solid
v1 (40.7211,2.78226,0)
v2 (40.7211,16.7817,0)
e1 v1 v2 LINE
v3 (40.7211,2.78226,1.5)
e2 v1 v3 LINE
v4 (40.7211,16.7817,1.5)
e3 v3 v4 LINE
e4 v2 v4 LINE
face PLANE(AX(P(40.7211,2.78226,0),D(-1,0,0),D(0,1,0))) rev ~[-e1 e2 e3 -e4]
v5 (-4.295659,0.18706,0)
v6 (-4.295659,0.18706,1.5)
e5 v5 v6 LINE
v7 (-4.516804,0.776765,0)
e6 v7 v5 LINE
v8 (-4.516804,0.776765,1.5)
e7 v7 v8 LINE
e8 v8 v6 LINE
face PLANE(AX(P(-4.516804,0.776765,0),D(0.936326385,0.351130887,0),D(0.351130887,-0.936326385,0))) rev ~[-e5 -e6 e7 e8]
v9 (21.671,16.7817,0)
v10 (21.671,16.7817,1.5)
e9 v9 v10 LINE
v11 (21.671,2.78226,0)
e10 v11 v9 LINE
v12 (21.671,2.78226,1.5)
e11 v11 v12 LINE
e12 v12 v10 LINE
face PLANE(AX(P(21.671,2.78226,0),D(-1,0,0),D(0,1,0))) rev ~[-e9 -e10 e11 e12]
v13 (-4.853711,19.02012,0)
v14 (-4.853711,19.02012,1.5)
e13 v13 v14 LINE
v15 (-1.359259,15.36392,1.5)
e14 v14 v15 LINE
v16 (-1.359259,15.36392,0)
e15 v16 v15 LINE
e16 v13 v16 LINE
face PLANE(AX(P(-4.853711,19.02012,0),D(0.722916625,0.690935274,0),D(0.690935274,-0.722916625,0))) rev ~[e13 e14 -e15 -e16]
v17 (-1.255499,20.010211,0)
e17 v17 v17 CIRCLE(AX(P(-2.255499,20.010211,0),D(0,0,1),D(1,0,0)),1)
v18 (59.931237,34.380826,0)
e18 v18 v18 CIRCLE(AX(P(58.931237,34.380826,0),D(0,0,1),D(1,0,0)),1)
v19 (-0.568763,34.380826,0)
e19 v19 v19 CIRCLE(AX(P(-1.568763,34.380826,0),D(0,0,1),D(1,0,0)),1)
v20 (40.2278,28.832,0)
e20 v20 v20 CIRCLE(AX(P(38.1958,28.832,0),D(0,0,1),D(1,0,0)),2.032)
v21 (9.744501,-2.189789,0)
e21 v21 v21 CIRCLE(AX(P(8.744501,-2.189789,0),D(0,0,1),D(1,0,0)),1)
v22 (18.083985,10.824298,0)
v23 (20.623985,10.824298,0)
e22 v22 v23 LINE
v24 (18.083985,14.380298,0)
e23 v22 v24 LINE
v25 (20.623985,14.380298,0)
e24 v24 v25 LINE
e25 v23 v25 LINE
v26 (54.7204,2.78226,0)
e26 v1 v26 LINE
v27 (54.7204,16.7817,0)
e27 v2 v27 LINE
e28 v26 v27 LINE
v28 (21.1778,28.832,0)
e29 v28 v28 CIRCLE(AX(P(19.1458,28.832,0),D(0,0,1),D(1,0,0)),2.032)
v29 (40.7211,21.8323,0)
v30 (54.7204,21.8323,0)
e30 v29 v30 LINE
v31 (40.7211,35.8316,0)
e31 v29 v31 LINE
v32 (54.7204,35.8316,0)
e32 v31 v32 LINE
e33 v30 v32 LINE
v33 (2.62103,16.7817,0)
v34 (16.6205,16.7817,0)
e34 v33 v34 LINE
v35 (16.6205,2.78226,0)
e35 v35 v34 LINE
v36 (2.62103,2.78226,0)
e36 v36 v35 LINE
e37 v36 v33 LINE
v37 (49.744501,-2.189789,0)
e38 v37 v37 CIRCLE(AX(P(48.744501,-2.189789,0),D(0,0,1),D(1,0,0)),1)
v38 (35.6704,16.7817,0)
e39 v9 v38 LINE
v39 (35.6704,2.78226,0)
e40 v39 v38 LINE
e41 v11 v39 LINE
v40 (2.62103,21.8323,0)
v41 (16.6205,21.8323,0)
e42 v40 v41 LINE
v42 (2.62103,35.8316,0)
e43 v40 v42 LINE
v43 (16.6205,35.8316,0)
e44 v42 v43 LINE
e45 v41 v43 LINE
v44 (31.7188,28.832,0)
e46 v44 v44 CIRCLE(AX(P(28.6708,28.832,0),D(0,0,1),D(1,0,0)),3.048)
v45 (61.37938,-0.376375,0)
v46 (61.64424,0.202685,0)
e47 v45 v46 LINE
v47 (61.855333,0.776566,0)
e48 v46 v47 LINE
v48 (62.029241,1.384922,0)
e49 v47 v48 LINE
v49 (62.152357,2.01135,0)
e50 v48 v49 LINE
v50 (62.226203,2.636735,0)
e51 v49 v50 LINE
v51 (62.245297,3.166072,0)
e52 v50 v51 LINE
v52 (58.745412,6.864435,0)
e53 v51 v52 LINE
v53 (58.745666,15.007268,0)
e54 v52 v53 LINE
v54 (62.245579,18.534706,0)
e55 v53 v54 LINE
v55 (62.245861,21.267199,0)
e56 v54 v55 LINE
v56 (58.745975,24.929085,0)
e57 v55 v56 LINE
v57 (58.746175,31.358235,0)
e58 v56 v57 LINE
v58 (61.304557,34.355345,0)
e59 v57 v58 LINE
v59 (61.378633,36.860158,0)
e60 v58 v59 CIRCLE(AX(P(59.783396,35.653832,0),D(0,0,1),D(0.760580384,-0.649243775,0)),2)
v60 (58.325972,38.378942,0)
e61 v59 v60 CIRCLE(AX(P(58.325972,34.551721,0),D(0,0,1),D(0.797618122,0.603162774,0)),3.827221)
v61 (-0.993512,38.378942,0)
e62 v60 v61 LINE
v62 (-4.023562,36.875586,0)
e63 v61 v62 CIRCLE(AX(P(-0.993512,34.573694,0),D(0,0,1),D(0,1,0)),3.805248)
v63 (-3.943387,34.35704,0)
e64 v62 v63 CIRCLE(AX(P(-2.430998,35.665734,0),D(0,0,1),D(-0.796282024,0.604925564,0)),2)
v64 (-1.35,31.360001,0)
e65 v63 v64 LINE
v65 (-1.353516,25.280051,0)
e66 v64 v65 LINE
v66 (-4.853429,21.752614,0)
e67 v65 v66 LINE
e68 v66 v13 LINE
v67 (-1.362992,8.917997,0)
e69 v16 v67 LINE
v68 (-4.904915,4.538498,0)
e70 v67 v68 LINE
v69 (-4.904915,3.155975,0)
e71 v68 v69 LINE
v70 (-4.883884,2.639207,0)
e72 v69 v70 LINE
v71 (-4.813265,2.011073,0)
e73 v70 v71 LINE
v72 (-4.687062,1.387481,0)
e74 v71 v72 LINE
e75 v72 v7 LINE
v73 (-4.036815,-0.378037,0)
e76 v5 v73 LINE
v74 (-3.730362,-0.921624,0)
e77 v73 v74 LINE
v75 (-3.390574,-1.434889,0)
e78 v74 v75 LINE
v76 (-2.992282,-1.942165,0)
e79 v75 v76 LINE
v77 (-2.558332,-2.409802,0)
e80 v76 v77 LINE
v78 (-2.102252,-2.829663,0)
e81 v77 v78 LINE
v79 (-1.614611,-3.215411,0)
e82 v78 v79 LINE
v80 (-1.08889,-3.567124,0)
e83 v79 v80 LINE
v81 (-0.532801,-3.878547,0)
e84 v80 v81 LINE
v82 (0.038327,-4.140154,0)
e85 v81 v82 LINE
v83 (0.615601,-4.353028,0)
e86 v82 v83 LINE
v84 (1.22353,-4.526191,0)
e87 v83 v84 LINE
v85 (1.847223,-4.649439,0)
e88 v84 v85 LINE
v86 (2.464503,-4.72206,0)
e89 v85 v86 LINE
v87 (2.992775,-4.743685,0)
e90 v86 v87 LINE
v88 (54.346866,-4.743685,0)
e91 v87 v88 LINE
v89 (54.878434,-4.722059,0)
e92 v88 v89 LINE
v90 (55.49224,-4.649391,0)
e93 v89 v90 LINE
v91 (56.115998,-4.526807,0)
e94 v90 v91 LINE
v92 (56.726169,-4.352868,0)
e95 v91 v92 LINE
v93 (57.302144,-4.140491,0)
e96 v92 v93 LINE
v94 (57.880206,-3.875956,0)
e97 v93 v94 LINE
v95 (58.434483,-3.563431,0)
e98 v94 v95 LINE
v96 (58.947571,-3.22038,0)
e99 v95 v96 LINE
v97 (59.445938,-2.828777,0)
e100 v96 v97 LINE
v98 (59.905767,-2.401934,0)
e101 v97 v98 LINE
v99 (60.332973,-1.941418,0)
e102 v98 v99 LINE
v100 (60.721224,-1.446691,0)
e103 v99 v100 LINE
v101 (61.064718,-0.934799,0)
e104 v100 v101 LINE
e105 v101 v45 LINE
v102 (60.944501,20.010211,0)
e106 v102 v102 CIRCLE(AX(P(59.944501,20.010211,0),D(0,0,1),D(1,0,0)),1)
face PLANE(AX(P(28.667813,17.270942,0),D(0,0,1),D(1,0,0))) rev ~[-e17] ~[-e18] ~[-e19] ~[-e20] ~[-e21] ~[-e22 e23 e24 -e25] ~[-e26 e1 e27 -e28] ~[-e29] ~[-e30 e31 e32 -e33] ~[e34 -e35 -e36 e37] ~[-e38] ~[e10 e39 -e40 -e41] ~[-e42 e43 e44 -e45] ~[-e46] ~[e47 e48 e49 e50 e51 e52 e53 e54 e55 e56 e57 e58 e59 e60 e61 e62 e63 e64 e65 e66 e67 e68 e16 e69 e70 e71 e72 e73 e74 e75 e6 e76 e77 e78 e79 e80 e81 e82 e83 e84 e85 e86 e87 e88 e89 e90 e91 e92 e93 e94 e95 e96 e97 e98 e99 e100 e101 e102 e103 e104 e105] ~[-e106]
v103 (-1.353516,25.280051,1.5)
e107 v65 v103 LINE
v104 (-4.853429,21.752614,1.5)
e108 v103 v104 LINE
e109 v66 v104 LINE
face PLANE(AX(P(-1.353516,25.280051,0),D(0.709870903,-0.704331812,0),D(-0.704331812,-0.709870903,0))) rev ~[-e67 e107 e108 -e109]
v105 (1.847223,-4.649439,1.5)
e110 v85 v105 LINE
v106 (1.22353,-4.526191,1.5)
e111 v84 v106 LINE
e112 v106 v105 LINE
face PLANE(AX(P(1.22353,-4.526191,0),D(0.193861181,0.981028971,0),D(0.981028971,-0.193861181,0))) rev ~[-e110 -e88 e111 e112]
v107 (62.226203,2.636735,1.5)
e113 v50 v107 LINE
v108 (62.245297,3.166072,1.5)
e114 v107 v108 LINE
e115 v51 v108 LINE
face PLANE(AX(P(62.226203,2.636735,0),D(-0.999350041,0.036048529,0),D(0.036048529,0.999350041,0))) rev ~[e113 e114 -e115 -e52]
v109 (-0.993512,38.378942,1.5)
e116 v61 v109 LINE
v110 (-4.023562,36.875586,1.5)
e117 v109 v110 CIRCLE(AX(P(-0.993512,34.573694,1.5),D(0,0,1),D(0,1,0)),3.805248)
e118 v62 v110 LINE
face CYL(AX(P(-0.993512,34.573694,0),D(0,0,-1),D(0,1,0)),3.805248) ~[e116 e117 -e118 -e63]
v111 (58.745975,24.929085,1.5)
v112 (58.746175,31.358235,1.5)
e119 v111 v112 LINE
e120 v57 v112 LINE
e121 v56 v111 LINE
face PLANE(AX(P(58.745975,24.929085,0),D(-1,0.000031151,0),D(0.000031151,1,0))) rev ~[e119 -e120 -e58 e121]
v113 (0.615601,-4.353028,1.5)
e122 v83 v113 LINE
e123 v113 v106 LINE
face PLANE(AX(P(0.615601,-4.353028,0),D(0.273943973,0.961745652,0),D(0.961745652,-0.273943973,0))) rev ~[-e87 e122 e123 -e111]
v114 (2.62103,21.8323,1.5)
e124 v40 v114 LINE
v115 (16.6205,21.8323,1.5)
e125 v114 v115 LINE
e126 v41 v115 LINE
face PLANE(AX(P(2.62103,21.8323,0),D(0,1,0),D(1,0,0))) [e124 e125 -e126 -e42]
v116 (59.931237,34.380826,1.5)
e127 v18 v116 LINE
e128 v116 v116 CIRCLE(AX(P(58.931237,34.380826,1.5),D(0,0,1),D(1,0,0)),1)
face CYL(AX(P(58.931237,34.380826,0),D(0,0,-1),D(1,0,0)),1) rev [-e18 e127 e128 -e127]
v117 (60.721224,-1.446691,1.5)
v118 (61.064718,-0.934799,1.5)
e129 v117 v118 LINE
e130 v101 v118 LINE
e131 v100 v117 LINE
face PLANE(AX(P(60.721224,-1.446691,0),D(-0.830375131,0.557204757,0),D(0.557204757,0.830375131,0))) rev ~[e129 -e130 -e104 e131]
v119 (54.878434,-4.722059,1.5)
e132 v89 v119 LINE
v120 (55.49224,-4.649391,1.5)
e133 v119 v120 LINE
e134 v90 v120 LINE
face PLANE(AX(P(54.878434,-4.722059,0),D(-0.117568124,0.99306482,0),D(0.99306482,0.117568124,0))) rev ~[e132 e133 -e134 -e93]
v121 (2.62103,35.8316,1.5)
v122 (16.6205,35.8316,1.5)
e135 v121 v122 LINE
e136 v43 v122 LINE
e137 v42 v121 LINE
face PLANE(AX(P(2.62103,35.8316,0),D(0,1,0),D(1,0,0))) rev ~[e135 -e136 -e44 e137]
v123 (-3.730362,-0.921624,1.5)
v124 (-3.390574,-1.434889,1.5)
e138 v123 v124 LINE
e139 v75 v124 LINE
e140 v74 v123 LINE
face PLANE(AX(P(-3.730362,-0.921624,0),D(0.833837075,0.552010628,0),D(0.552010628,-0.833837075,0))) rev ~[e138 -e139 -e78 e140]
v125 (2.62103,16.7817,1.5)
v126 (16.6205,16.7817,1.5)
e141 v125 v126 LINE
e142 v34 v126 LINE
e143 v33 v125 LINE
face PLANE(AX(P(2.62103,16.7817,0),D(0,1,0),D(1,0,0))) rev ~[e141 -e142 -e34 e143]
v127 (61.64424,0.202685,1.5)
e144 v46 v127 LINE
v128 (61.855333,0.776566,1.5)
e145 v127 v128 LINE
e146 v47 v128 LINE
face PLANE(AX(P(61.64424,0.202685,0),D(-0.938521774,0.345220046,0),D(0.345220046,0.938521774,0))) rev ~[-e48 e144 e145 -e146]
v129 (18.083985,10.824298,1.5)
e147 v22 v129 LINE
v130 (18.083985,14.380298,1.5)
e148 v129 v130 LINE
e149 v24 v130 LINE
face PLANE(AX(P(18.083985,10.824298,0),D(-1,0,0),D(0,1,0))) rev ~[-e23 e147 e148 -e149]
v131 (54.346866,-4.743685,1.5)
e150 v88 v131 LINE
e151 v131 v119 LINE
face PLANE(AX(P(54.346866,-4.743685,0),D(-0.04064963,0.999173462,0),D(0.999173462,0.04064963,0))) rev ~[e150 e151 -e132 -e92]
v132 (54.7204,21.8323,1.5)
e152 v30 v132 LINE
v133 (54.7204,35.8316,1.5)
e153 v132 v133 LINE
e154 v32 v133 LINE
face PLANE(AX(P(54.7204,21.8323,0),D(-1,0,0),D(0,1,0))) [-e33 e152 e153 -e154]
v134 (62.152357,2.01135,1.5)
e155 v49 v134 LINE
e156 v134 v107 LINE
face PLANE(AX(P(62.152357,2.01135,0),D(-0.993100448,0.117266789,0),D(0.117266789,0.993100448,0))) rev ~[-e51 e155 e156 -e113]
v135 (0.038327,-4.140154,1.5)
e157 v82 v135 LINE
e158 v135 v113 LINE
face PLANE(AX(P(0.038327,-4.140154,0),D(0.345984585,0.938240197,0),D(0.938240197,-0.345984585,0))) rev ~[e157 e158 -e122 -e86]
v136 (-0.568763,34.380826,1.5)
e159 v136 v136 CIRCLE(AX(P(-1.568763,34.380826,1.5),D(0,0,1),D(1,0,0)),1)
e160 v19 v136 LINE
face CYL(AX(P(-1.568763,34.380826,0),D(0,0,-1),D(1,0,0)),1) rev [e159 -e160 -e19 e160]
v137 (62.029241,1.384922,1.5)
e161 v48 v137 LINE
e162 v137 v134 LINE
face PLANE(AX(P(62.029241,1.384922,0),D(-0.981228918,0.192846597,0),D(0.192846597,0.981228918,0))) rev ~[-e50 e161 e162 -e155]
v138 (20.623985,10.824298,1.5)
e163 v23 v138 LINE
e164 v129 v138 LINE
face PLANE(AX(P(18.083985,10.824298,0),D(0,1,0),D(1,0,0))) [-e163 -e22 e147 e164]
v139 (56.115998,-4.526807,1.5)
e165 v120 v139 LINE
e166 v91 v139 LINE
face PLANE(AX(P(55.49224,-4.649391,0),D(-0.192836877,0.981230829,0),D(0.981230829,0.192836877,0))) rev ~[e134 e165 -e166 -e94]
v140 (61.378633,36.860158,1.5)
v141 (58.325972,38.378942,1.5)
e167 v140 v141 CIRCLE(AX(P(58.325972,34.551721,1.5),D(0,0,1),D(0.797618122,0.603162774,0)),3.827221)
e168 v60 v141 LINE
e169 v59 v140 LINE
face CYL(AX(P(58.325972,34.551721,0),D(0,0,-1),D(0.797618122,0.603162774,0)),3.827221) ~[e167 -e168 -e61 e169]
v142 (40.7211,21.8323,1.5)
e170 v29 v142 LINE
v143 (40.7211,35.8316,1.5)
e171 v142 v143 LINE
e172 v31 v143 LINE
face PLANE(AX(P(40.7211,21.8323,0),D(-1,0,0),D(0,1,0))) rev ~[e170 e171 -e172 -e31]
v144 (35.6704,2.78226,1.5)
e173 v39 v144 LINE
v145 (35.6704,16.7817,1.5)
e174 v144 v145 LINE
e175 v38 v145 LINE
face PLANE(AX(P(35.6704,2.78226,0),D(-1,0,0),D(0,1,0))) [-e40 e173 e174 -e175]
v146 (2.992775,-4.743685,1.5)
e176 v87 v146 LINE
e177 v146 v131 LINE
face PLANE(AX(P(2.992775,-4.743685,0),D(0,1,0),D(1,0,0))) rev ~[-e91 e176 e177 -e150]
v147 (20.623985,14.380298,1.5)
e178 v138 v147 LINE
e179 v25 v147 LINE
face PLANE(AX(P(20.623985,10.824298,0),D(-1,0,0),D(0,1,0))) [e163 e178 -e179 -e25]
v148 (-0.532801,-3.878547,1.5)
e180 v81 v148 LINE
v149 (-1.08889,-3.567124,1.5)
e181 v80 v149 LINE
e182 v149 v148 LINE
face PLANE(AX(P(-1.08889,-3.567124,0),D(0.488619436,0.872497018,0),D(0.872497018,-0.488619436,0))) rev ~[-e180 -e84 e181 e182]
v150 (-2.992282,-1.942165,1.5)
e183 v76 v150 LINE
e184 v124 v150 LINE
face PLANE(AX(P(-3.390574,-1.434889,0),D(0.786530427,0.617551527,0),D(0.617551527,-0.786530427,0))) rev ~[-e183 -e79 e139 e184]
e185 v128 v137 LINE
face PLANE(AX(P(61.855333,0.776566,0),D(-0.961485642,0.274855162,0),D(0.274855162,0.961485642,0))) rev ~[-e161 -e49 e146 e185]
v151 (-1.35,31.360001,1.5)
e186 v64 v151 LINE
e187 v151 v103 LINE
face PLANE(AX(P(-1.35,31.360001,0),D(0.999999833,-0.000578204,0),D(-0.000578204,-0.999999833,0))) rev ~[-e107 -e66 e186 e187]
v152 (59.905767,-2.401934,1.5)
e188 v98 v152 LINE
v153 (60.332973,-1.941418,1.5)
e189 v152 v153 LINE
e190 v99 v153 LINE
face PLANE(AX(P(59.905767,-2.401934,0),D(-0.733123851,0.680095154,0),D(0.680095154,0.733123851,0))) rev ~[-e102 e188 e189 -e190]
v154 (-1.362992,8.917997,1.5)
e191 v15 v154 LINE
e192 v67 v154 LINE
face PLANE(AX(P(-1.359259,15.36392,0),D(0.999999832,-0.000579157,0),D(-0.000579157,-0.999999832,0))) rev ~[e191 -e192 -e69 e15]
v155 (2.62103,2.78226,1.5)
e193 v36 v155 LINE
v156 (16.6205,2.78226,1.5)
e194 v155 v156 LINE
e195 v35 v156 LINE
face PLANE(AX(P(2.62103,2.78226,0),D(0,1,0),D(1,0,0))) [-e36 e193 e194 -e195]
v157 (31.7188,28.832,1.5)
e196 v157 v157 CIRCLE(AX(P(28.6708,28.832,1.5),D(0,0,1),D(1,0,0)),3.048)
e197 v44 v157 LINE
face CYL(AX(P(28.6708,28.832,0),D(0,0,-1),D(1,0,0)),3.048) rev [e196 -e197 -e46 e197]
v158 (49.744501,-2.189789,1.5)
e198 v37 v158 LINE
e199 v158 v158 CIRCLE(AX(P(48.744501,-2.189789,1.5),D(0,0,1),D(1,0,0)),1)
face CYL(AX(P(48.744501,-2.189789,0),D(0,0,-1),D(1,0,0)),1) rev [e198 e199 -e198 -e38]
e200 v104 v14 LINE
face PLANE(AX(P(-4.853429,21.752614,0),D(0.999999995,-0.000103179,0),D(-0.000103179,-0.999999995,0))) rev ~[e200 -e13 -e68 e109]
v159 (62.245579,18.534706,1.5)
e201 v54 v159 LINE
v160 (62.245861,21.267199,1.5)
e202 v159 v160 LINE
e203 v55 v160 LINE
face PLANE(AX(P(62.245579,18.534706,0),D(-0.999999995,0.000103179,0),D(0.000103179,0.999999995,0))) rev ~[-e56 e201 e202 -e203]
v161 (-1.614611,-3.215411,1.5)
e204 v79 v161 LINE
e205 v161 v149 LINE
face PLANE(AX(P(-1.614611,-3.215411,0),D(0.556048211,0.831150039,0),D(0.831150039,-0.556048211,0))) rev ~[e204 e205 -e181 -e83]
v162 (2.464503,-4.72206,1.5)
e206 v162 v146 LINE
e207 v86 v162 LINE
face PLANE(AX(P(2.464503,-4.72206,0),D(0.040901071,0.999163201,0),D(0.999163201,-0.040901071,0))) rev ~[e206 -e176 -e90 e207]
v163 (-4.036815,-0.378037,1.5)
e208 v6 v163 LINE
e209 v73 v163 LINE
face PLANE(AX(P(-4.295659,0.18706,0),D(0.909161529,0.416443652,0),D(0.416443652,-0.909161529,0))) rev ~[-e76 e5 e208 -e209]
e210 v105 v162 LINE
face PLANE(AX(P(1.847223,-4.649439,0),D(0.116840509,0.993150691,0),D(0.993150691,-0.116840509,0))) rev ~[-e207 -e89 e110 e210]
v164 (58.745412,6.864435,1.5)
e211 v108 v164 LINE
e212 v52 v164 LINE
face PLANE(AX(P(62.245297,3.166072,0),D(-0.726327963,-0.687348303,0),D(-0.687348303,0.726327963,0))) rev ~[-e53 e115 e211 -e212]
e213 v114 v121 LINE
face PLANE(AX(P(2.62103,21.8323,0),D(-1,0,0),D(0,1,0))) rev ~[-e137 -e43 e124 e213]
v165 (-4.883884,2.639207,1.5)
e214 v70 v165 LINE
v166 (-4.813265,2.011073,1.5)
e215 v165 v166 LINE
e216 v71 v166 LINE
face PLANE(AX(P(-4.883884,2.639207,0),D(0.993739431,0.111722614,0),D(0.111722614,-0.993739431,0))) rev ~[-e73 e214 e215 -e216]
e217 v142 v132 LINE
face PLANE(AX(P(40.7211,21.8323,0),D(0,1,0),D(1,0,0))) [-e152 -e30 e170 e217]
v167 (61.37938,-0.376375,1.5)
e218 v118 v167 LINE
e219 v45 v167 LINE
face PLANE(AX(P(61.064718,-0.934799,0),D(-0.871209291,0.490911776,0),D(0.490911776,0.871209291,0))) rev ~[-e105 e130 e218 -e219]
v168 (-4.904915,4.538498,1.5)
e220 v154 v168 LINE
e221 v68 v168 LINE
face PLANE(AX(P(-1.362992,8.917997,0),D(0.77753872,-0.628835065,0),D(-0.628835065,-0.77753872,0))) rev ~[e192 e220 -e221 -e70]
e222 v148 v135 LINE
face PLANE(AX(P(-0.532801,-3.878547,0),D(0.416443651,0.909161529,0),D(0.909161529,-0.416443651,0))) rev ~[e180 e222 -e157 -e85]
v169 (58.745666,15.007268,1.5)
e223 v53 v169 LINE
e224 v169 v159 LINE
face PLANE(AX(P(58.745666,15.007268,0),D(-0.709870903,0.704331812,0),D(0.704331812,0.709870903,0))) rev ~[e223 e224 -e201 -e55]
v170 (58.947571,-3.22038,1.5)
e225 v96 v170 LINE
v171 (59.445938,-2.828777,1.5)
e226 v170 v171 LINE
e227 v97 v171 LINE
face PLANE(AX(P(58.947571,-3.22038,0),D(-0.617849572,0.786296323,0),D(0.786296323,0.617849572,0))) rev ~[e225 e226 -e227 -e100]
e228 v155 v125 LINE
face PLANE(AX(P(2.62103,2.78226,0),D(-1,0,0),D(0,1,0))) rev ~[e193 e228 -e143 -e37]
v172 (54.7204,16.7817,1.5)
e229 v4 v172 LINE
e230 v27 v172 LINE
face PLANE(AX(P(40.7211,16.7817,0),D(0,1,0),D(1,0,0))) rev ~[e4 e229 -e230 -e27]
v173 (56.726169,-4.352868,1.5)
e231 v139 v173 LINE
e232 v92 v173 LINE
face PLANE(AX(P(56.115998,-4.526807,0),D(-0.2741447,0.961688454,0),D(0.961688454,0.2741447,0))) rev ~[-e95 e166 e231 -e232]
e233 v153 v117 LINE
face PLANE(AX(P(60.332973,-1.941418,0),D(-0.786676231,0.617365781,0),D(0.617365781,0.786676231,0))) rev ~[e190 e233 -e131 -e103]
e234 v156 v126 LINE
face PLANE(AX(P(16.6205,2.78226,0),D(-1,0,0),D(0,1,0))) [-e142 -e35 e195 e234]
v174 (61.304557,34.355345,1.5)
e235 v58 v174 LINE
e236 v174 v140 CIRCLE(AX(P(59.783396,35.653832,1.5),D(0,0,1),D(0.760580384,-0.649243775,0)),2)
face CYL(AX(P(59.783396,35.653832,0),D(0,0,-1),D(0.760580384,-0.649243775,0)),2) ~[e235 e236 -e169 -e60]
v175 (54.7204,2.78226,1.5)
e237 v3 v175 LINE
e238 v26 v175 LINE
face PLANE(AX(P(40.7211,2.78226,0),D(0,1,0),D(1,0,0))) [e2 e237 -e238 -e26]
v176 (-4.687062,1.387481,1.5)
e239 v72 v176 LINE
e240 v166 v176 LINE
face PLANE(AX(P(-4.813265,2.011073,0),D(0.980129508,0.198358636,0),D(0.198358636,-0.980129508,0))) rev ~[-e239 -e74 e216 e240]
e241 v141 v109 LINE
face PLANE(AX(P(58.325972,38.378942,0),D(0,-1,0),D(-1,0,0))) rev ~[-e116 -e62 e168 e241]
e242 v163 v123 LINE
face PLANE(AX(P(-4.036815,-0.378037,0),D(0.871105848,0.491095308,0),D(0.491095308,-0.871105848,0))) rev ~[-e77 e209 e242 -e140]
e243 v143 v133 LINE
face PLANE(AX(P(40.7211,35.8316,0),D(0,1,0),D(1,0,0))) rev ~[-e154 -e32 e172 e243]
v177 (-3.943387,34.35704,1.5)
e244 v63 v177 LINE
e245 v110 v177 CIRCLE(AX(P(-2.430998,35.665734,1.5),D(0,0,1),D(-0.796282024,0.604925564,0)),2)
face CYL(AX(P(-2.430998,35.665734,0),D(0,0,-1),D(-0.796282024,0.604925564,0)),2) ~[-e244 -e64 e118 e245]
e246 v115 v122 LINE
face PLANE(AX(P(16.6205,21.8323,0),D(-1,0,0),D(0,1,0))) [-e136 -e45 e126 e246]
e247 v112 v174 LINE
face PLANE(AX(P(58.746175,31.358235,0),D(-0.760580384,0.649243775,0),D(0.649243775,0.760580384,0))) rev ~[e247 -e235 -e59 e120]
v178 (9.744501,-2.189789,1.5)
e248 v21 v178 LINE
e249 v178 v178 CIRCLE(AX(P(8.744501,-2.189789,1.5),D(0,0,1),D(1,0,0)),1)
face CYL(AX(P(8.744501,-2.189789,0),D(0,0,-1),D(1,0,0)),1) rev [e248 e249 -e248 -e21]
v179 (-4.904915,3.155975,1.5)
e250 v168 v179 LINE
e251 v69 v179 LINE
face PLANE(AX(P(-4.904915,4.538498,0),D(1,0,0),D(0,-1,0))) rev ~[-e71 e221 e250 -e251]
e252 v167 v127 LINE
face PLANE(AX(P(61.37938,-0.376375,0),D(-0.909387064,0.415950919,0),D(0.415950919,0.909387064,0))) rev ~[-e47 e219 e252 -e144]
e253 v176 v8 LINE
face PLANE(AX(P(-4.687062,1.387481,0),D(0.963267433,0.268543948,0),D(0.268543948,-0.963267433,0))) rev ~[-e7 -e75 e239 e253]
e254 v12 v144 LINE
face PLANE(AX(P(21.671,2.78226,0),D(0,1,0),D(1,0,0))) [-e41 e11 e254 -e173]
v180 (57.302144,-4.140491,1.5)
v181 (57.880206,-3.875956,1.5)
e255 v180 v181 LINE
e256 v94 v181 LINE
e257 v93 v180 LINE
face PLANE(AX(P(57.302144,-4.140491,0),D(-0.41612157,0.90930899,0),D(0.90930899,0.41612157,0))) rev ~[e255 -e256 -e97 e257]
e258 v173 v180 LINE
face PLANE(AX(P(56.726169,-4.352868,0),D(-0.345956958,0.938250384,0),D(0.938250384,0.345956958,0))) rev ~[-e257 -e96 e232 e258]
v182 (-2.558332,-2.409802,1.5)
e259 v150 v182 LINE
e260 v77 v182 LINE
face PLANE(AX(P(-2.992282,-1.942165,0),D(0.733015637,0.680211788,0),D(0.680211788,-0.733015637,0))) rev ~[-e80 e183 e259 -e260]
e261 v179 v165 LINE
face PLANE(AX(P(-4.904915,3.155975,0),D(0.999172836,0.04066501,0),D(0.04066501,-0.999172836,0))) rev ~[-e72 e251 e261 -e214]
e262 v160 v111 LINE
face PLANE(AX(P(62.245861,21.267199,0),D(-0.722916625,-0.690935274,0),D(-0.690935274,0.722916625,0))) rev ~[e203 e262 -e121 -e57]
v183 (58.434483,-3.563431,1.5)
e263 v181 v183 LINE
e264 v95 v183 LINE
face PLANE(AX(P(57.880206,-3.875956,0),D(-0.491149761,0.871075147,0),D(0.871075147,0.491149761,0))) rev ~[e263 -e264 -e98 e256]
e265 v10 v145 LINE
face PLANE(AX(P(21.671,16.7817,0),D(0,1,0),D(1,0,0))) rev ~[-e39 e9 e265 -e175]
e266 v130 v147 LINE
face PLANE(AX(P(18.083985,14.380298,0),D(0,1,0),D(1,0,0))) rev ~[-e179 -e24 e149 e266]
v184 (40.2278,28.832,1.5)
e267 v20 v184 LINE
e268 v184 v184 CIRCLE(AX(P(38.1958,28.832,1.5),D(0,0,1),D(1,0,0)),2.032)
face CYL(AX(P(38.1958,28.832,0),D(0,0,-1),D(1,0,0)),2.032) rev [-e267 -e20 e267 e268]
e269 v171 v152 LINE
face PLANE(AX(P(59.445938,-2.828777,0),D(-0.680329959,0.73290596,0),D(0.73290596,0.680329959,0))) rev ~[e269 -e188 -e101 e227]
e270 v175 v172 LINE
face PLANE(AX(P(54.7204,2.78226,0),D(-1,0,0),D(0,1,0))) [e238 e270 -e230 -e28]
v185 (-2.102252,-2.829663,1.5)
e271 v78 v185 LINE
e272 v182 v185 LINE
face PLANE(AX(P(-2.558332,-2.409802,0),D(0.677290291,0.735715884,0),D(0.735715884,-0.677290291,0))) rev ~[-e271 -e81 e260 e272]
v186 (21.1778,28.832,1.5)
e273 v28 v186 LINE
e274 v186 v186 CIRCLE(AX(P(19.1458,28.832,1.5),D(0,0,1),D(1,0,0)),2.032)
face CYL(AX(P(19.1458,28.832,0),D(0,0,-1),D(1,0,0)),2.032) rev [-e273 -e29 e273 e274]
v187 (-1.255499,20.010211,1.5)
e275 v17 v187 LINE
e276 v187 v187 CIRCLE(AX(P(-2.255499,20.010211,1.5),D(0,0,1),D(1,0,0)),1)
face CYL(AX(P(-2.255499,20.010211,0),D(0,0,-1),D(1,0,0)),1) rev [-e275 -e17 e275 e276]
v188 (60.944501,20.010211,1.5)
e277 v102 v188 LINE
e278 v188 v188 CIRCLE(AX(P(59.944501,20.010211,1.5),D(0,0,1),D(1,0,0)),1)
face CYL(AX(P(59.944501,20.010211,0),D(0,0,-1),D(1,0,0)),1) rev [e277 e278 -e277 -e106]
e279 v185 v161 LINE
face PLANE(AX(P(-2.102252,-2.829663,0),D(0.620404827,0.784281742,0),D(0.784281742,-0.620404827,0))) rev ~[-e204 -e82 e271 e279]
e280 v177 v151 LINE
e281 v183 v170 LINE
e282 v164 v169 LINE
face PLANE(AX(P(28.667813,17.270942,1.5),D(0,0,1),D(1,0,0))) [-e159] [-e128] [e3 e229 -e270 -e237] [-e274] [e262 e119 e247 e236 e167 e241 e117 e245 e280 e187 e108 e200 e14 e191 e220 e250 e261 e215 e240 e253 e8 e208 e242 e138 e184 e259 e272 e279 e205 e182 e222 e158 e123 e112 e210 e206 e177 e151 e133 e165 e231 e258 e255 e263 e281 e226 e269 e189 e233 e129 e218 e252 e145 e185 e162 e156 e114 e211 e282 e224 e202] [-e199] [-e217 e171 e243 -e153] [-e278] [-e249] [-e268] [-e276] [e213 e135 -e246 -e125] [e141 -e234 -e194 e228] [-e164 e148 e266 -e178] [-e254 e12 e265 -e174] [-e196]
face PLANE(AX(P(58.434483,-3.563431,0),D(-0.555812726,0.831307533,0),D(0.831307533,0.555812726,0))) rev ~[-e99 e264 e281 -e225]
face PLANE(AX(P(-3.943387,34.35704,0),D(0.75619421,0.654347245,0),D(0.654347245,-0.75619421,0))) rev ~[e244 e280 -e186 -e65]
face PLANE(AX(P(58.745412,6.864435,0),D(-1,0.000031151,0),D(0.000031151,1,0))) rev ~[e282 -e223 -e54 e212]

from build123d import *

# Parameters (mm, degrees)
MODEL_R         = 1
MODEL_W         = 13.99947
MODEL_H         = 13.99944
MODEL_W_2       = 2.54
MODEL_H_2       = 3.556
MODEL_W_3       = 13.9994
MODEL_W_4       = 13.9993
MODEL_H_3       = 13.9993
MODEL_R_2       = 2.032
MODEL_R_3       = 3.048
EXTRUDE_1_DEPTH = 1.5


with BuildPart() as part:
    # Model → 凸台-拉伸1 (new body)
    with BuildSketch(Plane.XY):
        with BuildLine():
            Line((58.325971896, 38.37894176), (-0.993511809, 38.37894176))
            ThreePointArc((-0.993511809, 38.37894176), (-2.684760262, 37.982445858), (-4.023562246, 36.875585623))
            ThreePointArc((-4.023562246, 36.875585623), (-4.429985557, 35.602098535), (-3.943386617, 34.357040005))
            Line((-3.943386617, 34.357040005), (-1.350000064, 31.36000149))
            Line((-1.350000064, 31.36000149), (-1.353515518, 25.280051374))
            Line((-1.353515518, 25.280051374), (-4.853428588, 21.752613865))
            Line((-4.853428588, 21.752613865), (-4.853710523, 19.020120221))
            Line((-4.853710523, 19.020120221), (-1.359258514, 15.363920359))
            Line((-1.359258514, 15.363920359), (-1.362991715, 8.917997305))
            Line((-1.362991715, 8.917997305), (-4.9049154, 4.538497879))
            Line((-4.9049154, 4.538497879), (-4.9049154, 3.15597541))
            Line((-4.9049154, 3.15597541), (-4.883883595, 2.639206616))
            Line((-4.883883595, 2.639206616), (-4.813264805, 2.011073476))
            Line((-4.813264805, 2.011073476), (-4.687062167, 1.387481119))
            Line((-4.687062167, 1.387481119), (-4.516803943, 0.776764684))
            Line((-4.516803943, 0.776764684), (-4.295659415, 0.187060206))
            Line((-4.295659415, 0.187060206), (-4.03681533, -0.378036856))
            Line((-4.03681533, -0.378036856), (-3.730362364, -0.921623746))
            Line((-3.730362364, -0.921623746), (-3.390574278, -1.434889052))
            Line((-3.390574278, -1.434889052), (-2.992281832, -1.942165148))
            Line((-2.992281832, -1.942165148), (-2.558331876, -2.409802006))
            Line((-2.558331876, -2.409802006), (-2.102251702, -2.829663369))
            Line((-2.102251702, -2.829663369), (-1.614610519, -3.215411153))
            Line((-1.614610519, -3.215411153), (-1.088890304, -3.567123565))
            Line((-1.088890304, -3.567123565), (-0.532800957, -3.878547051))
            Line((-0.532800957, -3.878547051), (0.038326794, -4.140153507))
            Line((0.038326794, -4.140153507), (0.615600502, -4.353028424))
            Line((0.615600502, -4.353028424), (1.223529929, -4.526191258))
            Line((1.223529929, -4.526191258), (1.847223482, -4.64943937))
            Line((1.847223482, -4.64943937), (2.464503115, -4.722060038))
            Line((2.464503115, -4.722060038), (2.992774524, -4.743685))
            Line((2.992774524, -4.743685), (54.34686609, -4.743685))
            Line((54.34686609, -4.743685), (54.87843401, -4.722059086))
            Line((54.87843401, -4.722059086), (55.492240411, -4.649391053))
            Line((55.492240411, -4.649391053), (56.11599848, -4.526806688))
            Line((56.11599848, -4.526806688), (56.726168878, -4.352867841))
            Line((56.726168878, -4.352867841), (57.302144081, -4.140491025))
            Line((57.302144081, -4.140491025), (57.880206411, -3.875955859))
            Line((57.880206411, -3.875955859), (58.434482529, -3.563431063))
            Line((58.434482529, -3.563431063), (58.947571314, -3.220379587))
            Line((58.947571314, -3.220379587), (59.445938304, -2.8287768))
            Line((59.445938304, -2.8287768), (59.905767444, -2.401934126))
            Line((59.905767444, -2.401934126), (60.332973054, -1.941418241))
            Line((60.332973054, -1.941418241), (60.721224007, -1.446690794))
            Line((60.721224007, -1.446690794), (61.064717919, -0.934798534))
            Line((61.064717919, -0.934798534), (61.379380282, -0.376374826))
            Line((61.379380282, -0.376374826), (61.644240363, 0.202684675))
            Line((61.644240363, 0.202684675), (61.855333273, 0.776565869))
            Line((61.855333273, 0.776565869), (62.029241049, 1.384922025))
            Line((62.029241049, 1.384922025), (62.152356641, 2.011350393))
            Line((62.152356641, 2.011350393), (62.226202972, 2.636734827))
            Line((62.226202972, 2.636734827), (62.245297192, 3.166071528))
            Line((62.245297192, 3.166071528), (58.745412398, 6.86443549))
            Line((58.745412398, 6.86443549), (58.745666056, 15.007268129))
            Line((58.745666056, 15.007268129), (62.245579127, 18.534705638))
            Line((62.245579127, 18.534705638), (62.245861062, 21.267199282))
            Line((62.245861062, 21.267199282), (58.745975132, 24.929084585))
            Line((58.745975132, 24.929084585), (58.746175407, 31.358234918))
            Line((58.746175407, 31.358234918), (61.304557204, 34.355344918))
            ThreePointArc((61.304557204, 34.355344918), (61.782522432, 35.594711806), (61.37863268, 36.860158015))
            ThreePointArc((61.37863268, 36.860158015), (60.030777011, 37.978272972), (58.325971896, 38.37894176))
        make_face()
        with Locations((8.744501265, -2.189788582)):
            Circle(MODEL_R, mode=Mode.SUBTRACT)
        with Locations((9.620765, 9.78198)):
            Rectangle(MODEL_W, MODEL_H, mode=Mode.SUBTRACT)
        with Locations((19.353985322, 12.60229784)):
            Rectangle(MODEL_W_2, MODEL_H_2, mode=Mode.SUBTRACT)
        with Locations((48.744501265, -2.189788582)):
            Circle(MODEL_R, mode=Mode.SUBTRACT)
        with Locations((28.6707, 9.78198)):
            Rectangle(MODEL_W_3, MODEL_H, mode=Mode.SUBTRACT)
        with Locations((47.72075, 9.78198)):
            Rectangle(MODEL_W_4, MODEL_H, mode=Mode.SUBTRACT)
        with Locations((-2.255498735, 20.010211418)):
            Circle(MODEL_R, mode=Mode.SUBTRACT)
        with Locations((9.620765, 28.83195)):
            Rectangle(MODEL_W, MODEL_H_3, mode=Mode.SUBTRACT)
        with Locations((-1.568763471, 34.380826193)):
            Circle(MODEL_R, mode=Mode.SUBTRACT)
        with Locations((19.1458, 28.832)):
            Circle(MODEL_R_2, mode=Mode.SUBTRACT)
        with Locations((59.944501265, 20.010211418)):
            Circle(MODEL_R, mode=Mode.SUBTRACT)
        with Locations((28.6708, 28.832)):
            Circle(MODEL_R_3, mode=Mode.SUBTRACT)
        with Locations((38.1958, 28.832)):
            Circle(MODEL_R_2, mode=Mode.SUBTRACT)
        with Locations((47.72075, 28.83195)):
            Rectangle(MODEL_W_4, MODEL_H_3, mode=Mode.SUBTRACT)
        with Locations((58.931236529, 34.380826193)):
            Circle(MODEL_R, mode=Mode.SUBTRACT)
    extrude(amount=EXTRUDE_1_DEPTH)


solid = part.part
